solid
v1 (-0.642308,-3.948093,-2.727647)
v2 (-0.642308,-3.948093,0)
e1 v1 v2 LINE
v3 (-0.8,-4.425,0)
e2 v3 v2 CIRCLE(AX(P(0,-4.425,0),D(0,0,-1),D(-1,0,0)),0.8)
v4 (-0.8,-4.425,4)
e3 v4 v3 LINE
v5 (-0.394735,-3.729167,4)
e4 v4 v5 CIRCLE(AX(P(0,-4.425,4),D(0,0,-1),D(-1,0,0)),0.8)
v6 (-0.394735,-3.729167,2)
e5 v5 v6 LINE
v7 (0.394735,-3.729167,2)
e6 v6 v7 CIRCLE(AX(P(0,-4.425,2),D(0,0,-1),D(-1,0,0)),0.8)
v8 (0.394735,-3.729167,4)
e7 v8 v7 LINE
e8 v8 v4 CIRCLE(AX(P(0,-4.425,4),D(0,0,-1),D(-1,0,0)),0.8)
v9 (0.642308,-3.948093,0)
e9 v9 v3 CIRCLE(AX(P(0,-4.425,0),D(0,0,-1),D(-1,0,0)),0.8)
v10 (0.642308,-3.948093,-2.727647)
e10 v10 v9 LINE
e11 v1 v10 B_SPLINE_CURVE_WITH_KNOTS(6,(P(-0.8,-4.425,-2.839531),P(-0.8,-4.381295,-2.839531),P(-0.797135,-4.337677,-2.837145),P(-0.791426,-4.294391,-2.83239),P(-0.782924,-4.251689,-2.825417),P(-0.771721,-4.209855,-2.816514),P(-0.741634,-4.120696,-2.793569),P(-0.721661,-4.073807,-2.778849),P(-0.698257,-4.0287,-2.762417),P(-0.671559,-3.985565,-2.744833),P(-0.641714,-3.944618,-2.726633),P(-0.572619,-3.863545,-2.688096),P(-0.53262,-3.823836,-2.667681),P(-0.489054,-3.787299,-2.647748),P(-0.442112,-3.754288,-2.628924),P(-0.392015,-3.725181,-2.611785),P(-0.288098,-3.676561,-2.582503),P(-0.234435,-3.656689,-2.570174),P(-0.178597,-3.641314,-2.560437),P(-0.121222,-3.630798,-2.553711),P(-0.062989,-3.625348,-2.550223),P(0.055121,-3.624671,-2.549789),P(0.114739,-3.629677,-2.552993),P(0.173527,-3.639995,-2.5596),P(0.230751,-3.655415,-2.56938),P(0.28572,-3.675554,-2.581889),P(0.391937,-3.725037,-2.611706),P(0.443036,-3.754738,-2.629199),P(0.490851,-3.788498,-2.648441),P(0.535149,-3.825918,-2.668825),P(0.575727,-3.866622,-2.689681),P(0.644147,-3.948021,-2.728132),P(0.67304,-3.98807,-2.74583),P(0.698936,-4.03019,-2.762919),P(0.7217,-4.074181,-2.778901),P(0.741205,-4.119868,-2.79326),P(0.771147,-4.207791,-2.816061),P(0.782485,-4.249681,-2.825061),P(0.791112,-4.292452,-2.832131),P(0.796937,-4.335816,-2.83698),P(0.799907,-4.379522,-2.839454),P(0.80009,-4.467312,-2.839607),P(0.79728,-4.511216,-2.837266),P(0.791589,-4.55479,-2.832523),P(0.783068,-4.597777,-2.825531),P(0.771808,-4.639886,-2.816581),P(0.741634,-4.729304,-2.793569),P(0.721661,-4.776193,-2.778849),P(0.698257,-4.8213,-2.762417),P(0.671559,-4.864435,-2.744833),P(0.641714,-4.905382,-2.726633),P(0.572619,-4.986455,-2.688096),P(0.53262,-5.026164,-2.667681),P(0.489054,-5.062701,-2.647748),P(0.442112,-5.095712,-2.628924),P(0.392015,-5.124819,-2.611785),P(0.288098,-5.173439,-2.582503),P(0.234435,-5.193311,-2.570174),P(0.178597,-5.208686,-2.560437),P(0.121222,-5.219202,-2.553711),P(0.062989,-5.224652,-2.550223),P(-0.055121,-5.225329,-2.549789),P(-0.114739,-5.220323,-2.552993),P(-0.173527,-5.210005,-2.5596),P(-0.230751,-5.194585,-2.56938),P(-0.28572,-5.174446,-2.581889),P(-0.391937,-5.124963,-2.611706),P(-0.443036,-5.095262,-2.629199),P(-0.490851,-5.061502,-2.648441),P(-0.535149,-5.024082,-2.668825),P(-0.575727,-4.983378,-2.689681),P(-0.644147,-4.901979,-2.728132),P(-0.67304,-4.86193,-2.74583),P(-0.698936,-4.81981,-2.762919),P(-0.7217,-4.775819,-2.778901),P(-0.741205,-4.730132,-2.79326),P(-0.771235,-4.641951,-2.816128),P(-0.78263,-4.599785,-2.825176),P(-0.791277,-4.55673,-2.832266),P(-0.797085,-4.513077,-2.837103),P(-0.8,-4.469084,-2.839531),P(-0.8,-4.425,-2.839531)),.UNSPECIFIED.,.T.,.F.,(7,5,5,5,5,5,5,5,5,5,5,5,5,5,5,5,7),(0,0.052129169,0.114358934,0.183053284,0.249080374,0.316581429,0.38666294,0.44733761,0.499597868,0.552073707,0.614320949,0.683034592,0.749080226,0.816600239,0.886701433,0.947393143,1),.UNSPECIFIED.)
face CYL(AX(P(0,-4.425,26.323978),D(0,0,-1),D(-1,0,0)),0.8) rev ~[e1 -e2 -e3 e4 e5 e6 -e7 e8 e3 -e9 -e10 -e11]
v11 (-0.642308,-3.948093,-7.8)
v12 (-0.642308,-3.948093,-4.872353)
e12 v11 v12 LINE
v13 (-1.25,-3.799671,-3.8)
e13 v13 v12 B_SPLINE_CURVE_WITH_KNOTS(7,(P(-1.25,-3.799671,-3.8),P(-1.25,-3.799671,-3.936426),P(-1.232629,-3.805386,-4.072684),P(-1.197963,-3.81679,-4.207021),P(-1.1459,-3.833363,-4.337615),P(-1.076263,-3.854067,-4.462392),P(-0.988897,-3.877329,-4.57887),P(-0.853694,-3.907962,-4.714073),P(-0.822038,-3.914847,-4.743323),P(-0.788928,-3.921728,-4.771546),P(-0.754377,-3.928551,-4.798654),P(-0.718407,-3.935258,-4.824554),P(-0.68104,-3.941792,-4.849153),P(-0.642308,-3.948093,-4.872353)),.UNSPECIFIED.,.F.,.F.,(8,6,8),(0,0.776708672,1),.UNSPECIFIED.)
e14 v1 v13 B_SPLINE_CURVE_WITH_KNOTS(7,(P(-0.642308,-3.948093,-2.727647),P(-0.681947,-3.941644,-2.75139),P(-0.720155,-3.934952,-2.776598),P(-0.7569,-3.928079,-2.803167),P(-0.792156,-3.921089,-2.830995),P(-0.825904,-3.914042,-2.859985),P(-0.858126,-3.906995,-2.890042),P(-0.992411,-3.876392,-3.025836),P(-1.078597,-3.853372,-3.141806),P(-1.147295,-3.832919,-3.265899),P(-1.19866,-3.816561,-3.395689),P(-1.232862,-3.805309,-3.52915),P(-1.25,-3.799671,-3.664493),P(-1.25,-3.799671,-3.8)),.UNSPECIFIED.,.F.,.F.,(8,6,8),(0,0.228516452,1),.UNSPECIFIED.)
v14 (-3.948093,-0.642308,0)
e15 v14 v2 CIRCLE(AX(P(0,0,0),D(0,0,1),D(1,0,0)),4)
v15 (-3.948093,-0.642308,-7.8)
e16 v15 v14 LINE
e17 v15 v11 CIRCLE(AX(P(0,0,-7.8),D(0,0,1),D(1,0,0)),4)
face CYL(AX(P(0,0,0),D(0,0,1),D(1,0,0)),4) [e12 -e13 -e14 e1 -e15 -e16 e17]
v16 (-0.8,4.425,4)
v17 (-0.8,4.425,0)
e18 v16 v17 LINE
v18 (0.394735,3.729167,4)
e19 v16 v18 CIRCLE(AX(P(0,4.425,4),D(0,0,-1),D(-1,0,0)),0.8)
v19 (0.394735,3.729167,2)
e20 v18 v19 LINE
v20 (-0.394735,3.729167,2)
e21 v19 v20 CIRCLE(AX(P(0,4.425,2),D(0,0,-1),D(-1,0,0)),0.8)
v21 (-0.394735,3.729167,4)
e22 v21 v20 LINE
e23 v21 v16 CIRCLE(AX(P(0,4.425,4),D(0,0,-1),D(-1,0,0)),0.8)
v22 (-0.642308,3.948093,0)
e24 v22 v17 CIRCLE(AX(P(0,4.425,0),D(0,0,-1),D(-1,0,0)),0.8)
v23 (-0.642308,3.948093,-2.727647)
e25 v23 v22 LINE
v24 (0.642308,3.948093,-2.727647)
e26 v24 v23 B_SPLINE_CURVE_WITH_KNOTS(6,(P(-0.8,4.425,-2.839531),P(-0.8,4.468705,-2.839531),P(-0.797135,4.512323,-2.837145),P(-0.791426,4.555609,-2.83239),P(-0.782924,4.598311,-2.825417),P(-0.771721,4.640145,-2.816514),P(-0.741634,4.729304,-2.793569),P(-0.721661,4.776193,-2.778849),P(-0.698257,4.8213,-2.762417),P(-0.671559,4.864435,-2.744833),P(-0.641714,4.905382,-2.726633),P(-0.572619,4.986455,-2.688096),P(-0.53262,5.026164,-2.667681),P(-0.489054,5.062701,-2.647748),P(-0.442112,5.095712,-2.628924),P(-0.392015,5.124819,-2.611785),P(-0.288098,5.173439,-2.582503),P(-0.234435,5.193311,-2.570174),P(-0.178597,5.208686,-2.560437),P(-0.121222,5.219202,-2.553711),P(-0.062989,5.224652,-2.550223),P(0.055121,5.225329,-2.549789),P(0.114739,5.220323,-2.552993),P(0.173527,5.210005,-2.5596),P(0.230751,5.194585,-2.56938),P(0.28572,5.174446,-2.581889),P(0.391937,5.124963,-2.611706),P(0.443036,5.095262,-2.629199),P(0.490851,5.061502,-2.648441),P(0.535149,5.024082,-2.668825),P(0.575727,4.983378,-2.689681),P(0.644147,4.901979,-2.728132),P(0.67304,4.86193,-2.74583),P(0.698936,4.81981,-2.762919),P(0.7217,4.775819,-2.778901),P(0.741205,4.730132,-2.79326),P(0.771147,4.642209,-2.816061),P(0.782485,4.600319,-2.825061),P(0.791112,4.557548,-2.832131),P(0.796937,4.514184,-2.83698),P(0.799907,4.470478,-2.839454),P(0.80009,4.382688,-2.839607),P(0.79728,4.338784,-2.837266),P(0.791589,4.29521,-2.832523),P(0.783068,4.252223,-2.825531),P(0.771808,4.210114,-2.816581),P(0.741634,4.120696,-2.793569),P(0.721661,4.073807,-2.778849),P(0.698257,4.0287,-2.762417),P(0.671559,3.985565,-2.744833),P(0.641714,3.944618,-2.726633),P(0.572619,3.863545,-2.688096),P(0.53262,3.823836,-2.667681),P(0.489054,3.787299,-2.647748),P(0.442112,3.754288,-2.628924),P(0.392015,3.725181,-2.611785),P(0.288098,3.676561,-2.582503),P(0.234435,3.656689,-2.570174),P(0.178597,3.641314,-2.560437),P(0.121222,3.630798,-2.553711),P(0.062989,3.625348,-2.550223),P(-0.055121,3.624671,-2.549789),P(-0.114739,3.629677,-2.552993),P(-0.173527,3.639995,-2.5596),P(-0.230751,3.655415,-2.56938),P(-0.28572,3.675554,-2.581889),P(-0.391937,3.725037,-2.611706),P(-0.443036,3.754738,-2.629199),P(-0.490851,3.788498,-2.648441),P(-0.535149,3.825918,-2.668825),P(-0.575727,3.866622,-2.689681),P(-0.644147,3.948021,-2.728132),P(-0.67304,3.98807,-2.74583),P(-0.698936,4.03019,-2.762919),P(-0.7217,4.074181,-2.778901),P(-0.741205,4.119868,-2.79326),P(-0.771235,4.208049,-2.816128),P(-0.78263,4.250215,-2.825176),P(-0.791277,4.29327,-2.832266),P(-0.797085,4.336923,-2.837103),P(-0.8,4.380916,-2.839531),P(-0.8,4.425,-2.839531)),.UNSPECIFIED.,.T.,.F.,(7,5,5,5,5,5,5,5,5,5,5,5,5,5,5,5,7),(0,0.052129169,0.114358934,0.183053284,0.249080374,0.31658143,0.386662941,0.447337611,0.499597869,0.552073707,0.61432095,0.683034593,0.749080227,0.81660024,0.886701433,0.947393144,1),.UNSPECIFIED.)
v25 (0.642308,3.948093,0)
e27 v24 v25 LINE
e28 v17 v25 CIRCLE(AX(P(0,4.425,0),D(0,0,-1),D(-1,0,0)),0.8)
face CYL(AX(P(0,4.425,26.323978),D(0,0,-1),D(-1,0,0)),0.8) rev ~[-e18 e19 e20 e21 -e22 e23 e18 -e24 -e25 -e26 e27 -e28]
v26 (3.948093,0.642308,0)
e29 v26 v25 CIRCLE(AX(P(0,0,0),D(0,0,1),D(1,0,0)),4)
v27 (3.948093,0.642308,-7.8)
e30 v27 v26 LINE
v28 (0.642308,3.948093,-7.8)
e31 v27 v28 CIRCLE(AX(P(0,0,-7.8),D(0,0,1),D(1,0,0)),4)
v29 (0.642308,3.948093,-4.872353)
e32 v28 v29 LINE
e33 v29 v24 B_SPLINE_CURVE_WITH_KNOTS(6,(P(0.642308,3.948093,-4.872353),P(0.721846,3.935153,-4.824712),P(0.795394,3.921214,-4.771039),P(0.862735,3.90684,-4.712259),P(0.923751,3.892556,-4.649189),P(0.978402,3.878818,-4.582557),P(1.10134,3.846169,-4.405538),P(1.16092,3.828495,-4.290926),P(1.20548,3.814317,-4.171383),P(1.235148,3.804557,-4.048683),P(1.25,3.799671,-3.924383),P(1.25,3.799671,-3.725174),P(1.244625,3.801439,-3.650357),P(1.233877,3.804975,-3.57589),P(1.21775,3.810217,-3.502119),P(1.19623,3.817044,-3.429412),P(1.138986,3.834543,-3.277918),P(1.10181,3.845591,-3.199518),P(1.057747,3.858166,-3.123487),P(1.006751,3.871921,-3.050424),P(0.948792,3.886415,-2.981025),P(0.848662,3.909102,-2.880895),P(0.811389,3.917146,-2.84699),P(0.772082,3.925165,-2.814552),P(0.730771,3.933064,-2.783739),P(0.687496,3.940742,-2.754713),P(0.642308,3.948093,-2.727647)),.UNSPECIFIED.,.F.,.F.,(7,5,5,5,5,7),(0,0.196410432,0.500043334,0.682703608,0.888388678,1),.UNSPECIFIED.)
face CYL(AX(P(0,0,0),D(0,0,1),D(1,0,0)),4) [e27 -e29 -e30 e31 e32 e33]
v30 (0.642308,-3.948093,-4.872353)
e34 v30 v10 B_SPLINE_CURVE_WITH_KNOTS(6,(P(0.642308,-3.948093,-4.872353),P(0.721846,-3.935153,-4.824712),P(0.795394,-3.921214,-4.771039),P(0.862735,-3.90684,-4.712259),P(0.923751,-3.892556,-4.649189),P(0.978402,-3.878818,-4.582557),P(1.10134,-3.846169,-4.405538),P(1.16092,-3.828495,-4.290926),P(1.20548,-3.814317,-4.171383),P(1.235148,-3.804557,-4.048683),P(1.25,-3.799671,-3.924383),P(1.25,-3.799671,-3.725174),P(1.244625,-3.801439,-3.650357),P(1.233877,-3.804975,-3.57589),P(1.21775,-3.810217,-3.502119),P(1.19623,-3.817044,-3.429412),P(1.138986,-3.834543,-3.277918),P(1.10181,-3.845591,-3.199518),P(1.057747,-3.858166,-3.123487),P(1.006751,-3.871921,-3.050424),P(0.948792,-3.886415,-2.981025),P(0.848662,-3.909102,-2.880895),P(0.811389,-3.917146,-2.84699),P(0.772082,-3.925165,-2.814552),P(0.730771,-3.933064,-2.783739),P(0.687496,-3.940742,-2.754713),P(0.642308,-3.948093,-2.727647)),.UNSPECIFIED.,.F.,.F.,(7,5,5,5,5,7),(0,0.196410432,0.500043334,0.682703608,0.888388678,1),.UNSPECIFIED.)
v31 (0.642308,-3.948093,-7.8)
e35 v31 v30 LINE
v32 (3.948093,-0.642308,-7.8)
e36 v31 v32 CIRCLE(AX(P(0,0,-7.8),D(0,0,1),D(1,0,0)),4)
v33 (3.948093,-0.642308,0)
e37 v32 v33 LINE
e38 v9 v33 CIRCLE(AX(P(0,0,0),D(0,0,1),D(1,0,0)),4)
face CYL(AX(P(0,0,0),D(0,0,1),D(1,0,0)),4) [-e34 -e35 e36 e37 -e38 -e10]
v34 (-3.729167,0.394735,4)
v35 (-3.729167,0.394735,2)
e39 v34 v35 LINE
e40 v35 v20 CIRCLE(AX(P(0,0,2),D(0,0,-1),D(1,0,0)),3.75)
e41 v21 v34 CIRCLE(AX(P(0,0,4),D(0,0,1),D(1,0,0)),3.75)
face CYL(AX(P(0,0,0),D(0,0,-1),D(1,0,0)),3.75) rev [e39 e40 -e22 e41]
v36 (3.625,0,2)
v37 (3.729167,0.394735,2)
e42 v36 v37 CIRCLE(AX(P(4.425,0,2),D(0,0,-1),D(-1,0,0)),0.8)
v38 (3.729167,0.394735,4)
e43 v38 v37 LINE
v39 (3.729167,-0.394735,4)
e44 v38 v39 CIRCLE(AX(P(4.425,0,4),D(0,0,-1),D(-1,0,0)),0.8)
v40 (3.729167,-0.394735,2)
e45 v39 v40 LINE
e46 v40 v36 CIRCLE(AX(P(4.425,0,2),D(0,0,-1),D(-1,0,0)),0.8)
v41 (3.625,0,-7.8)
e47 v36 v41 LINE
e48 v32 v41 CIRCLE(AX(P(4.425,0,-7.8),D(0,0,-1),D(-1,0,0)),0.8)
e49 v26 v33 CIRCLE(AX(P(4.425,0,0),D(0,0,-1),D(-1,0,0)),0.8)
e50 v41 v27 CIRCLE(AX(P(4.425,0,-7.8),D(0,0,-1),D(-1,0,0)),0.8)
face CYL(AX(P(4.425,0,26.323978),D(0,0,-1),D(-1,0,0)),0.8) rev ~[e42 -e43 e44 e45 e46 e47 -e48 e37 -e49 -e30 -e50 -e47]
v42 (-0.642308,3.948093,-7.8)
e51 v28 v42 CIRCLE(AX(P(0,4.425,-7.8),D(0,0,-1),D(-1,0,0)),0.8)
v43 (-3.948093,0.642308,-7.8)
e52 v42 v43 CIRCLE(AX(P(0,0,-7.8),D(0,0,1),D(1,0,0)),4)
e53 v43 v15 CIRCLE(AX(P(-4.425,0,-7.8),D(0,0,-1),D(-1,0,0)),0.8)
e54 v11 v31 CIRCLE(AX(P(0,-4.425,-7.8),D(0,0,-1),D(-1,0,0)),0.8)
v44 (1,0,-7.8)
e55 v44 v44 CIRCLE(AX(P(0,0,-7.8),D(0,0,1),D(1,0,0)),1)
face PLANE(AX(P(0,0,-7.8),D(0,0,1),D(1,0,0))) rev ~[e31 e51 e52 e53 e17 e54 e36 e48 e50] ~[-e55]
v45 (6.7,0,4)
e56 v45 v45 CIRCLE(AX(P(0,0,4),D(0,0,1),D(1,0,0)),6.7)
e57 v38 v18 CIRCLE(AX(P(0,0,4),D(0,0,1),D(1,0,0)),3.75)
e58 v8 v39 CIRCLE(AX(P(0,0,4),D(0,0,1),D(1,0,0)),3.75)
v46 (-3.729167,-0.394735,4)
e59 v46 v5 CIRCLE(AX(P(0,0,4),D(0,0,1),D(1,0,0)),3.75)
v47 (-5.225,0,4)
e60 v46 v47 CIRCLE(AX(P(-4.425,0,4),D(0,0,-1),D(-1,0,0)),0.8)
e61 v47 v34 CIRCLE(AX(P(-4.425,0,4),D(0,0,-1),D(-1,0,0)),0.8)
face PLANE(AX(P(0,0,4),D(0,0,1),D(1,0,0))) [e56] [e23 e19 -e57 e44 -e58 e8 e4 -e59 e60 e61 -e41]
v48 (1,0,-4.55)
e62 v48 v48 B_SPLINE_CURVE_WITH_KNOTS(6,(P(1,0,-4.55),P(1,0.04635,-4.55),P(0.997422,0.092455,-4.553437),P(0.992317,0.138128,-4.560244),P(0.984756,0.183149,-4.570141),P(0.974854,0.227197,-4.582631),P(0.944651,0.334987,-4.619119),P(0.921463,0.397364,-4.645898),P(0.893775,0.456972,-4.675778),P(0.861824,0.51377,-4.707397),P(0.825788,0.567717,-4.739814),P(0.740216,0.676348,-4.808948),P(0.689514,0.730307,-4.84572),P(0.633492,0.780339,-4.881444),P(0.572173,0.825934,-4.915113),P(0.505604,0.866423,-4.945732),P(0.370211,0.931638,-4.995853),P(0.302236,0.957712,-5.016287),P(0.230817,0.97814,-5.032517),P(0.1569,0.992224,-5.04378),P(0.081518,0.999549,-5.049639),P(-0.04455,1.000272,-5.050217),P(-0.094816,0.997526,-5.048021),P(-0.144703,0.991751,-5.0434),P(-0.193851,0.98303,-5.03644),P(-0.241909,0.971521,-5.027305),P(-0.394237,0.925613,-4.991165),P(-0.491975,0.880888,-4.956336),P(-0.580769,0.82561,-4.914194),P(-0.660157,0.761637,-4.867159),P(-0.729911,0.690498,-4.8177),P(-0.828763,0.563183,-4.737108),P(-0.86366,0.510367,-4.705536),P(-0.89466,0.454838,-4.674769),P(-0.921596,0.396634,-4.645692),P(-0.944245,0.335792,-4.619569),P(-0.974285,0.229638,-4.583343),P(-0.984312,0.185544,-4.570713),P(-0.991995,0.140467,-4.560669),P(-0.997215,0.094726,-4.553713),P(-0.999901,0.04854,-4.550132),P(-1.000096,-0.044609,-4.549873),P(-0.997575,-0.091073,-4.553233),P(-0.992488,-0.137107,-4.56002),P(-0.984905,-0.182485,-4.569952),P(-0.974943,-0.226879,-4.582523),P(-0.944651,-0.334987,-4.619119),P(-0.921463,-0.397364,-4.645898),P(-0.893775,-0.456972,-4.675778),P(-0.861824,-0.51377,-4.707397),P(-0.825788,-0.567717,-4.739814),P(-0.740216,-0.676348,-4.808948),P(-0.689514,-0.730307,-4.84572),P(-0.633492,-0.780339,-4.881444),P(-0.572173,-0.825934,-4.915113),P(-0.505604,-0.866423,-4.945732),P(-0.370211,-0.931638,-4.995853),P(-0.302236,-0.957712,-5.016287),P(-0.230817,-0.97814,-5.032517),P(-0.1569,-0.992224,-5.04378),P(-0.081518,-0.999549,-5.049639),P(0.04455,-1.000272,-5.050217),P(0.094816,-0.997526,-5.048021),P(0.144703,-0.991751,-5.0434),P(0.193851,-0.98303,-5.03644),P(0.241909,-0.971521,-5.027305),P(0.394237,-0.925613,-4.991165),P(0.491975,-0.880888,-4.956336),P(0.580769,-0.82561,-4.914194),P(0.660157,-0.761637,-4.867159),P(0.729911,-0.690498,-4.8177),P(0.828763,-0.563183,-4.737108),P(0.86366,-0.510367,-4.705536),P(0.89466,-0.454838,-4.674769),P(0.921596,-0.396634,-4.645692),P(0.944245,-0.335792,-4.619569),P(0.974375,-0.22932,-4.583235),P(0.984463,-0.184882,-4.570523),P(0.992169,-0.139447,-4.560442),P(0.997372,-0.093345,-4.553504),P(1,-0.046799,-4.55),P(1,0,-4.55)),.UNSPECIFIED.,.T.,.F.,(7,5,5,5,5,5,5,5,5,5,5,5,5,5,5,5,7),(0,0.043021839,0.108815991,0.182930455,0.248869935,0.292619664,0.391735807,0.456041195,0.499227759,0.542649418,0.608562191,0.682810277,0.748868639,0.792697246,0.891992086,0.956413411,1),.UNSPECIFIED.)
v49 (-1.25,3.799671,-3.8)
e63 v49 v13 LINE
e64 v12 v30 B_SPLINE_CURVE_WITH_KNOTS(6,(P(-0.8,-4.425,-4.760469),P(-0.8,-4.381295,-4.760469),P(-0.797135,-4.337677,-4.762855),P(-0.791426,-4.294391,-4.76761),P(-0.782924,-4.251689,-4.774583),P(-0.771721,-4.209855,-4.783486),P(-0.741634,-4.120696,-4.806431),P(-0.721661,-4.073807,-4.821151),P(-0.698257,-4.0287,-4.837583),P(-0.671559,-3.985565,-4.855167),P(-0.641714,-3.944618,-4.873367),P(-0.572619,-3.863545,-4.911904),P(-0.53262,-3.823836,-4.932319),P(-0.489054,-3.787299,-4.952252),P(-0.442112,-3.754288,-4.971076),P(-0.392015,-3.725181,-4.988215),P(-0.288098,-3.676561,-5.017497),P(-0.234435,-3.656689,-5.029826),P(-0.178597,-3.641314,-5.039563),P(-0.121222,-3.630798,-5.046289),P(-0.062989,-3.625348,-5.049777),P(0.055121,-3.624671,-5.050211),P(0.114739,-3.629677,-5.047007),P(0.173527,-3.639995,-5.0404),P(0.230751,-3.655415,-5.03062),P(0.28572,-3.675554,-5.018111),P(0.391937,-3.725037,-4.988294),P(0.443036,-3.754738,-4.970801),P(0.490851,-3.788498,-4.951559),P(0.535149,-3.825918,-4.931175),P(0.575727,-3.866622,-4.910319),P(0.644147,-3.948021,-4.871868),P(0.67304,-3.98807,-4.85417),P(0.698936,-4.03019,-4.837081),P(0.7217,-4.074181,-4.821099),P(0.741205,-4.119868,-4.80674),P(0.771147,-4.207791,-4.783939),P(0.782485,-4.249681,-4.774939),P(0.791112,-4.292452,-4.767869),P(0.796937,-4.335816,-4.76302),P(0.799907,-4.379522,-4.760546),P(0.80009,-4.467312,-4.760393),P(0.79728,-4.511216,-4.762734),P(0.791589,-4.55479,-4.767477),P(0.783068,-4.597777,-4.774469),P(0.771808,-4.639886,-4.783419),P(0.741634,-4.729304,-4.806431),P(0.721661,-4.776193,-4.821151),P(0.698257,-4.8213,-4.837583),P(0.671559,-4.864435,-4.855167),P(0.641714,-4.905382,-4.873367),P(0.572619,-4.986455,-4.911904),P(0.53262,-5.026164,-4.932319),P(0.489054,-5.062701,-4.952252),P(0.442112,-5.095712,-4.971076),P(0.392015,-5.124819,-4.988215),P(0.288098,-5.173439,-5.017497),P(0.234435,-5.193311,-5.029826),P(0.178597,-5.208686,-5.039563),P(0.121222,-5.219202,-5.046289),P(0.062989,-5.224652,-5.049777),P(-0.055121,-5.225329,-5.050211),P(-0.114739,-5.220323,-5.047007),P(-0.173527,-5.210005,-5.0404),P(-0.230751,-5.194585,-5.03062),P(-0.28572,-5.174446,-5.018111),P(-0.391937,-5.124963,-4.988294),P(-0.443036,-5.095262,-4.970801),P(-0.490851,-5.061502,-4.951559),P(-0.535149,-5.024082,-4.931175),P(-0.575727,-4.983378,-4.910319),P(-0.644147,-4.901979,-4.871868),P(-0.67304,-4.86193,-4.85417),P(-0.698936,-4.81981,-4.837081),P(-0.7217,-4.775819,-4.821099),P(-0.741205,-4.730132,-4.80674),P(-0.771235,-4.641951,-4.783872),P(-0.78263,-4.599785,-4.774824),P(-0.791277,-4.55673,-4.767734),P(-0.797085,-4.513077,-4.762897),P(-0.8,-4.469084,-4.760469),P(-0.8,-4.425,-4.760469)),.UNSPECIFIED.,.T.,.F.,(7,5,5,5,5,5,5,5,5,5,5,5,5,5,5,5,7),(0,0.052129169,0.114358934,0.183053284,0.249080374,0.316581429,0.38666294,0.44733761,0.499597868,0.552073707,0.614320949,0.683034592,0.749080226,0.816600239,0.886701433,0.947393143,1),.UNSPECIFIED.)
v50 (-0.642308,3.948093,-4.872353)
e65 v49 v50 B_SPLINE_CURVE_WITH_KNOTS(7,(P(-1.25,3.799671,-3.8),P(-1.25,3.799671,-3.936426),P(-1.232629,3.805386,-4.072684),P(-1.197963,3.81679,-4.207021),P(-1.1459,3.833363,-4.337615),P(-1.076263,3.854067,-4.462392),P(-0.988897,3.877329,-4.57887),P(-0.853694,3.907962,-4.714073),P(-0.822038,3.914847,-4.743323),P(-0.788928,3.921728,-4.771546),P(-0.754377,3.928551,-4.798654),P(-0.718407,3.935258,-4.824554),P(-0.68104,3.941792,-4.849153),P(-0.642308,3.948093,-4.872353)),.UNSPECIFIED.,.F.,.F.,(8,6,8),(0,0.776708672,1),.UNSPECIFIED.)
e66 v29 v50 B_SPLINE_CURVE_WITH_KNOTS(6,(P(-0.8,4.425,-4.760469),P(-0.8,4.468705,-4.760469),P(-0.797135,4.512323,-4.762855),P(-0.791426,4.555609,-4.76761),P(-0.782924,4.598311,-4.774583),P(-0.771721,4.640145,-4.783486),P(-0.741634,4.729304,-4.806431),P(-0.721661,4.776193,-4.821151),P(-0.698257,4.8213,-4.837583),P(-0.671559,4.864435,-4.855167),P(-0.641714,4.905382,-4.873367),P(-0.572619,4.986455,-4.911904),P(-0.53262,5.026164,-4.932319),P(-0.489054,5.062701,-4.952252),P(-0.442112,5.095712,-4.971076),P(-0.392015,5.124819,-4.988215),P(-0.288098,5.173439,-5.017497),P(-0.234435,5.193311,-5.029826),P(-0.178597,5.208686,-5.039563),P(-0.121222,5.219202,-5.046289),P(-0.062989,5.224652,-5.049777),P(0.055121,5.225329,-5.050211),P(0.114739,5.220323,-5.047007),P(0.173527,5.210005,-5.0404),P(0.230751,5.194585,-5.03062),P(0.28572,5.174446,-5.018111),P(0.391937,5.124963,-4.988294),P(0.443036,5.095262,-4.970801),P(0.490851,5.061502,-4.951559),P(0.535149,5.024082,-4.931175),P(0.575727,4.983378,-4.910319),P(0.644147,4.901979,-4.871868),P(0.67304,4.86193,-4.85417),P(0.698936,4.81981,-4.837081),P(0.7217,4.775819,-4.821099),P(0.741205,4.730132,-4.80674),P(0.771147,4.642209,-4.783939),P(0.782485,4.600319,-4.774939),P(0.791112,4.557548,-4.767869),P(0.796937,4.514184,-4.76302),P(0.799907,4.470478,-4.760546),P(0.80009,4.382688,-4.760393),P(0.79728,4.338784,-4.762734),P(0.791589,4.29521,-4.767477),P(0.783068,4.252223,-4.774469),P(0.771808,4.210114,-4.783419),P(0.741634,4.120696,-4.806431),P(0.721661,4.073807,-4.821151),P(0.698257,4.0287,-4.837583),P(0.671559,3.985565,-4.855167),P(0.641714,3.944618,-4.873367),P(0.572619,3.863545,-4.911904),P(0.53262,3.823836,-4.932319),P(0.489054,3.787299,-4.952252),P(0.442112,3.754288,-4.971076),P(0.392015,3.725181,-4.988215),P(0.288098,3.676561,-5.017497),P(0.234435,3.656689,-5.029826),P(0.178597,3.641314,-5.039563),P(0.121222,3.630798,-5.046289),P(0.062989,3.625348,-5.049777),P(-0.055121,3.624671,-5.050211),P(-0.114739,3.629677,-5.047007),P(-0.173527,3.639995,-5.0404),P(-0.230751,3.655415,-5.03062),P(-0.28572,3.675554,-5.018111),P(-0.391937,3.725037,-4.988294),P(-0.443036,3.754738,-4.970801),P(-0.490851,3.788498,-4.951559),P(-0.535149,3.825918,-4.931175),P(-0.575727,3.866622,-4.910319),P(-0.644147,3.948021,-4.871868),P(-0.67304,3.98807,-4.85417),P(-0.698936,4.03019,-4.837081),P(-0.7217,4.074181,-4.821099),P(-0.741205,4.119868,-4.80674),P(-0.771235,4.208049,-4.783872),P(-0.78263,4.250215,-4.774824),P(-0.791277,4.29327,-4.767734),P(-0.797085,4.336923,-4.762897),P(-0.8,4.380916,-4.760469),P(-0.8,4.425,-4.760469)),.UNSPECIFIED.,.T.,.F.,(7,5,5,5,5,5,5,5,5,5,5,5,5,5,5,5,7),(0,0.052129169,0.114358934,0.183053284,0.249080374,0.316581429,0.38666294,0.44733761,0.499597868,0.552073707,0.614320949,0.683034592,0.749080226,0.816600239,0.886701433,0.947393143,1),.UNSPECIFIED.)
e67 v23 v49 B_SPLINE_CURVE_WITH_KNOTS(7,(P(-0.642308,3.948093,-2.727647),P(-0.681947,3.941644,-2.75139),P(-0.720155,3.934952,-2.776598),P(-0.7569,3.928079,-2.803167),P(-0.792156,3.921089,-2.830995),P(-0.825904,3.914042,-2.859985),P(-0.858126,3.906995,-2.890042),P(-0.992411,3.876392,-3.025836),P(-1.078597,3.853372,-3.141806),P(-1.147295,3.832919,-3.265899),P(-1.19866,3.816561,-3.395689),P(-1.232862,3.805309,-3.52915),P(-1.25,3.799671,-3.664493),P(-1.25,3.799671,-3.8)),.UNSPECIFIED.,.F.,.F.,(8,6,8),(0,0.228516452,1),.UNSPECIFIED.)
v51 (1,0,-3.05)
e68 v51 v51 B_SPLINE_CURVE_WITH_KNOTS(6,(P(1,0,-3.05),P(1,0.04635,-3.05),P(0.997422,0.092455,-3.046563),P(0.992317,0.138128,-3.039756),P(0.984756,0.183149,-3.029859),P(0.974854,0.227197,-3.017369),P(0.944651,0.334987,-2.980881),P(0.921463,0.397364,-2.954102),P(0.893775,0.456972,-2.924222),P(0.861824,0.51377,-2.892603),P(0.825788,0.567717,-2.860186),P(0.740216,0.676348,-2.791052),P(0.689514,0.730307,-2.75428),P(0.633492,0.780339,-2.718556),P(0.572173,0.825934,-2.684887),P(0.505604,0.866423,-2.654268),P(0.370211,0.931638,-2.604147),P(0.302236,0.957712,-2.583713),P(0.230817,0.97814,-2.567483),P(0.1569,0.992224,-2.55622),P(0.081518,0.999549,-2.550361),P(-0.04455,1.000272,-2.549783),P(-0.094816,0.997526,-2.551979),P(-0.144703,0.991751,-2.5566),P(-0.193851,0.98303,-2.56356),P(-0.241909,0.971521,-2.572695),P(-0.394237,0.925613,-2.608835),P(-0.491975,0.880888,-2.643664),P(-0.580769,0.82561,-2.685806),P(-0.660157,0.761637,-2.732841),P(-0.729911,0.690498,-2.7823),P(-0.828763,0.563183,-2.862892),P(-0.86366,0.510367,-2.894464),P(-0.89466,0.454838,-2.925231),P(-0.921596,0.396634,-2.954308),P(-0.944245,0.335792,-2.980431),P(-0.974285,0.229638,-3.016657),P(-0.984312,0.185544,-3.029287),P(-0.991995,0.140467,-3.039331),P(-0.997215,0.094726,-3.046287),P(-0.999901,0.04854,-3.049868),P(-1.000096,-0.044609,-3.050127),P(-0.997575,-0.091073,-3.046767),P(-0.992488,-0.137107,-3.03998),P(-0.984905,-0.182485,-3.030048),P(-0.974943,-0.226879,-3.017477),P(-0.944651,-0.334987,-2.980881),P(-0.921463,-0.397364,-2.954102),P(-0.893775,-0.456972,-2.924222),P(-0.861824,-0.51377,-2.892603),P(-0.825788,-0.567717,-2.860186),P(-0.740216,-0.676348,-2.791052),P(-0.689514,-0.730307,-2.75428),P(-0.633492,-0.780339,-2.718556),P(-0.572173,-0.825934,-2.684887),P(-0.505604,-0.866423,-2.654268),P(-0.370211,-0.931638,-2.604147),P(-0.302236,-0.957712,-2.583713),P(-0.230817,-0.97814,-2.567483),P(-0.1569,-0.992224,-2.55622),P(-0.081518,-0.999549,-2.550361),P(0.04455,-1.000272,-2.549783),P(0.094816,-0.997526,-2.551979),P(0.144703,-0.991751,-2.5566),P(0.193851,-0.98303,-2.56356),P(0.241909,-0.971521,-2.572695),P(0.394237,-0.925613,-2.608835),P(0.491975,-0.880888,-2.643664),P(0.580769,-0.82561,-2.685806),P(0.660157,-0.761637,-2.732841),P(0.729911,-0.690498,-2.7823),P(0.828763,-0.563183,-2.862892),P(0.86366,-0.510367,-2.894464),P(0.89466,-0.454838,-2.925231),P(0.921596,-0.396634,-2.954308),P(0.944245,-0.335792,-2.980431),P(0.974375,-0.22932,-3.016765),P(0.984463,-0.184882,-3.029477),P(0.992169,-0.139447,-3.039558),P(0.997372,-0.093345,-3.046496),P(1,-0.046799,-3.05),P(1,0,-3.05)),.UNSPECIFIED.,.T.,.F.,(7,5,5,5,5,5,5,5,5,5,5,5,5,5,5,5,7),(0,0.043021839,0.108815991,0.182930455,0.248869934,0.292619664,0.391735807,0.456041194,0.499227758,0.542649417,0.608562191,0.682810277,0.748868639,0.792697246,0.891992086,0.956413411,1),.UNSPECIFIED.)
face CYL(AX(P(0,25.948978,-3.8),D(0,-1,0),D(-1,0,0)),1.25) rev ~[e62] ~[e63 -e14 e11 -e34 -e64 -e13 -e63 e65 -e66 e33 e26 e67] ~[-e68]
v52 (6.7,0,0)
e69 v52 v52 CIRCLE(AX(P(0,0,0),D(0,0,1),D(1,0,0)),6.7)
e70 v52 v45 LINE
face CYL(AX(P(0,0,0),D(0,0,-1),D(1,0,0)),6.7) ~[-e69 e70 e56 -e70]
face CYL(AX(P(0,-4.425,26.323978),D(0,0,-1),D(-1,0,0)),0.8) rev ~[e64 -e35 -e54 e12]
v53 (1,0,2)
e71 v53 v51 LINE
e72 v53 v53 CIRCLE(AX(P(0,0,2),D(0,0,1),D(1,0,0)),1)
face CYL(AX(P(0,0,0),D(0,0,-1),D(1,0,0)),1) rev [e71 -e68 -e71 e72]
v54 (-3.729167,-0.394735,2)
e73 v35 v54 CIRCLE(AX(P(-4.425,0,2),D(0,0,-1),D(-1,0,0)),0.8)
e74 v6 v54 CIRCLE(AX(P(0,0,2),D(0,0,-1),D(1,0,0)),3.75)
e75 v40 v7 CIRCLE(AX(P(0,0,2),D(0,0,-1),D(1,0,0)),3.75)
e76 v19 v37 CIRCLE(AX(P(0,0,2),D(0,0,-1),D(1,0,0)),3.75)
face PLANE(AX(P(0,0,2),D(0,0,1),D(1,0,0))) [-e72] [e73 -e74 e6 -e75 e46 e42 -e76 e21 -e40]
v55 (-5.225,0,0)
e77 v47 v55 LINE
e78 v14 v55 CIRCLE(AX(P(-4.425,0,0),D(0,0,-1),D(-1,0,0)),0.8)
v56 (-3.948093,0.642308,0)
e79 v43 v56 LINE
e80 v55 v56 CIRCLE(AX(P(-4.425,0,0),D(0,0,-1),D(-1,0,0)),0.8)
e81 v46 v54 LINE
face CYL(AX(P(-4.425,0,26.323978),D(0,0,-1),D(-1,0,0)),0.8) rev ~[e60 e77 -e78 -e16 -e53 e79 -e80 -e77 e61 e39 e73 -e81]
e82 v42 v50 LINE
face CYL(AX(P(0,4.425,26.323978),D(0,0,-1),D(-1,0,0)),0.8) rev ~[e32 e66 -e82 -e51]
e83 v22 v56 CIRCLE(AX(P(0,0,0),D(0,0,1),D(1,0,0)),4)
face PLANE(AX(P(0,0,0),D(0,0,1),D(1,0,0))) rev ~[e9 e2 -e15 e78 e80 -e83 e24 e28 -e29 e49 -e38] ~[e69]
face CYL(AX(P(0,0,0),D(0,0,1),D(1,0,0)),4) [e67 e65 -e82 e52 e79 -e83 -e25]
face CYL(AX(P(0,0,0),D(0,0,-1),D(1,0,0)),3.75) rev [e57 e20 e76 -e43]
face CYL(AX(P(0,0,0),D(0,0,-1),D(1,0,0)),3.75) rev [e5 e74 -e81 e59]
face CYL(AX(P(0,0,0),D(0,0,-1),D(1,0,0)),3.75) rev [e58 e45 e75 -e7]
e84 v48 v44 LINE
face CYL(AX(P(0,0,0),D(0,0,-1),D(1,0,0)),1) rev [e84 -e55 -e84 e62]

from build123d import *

# Parameters (mm, degrees)
SKIZZE1_R                       = 6.7
SKIZZE1_R_2                     = 3.75
SKIZZE1_R_3                     = 4
AUFSATZ_LINEAR_AUSTRAGEN1_DEPTH = 4
SKIZZE1_4_R                     = 4
SKIZZE1_4_R_2                   = 3.75
SKIZZE1_4_R_3                   = 1
AUFSATZ_LINEAR_AUSTRAGEN2_DEPTH = 7.8
SKIZZE1_6_R                     = 4
SKIZZE1_6_R_2                   = 1
AUFSATZ_LINEAR_AUSTRAGEN3_DEPTH = 2
M2_GEWINDEBOHRUNG1_D            = 1.6
M3_GEWINDEBOHRUNG1_D            = 2.5


with BuildPart() as part:
    # Skizze1 → Aufsatz-Linear austragen1 (new body)
    with BuildSketch(Plane.XY):
        Circle(SKIZZE1_R)
        Circle(SKIZZE1_R_2, mode=Mode.SUBTRACT)
        Circle(SKIZZE1_R_3)
        Circle(SKIZZE1_R_2, mode=Mode.SUBTRACT)
    extrude(amount=AUFSATZ_LINEAR_AUSTRAGEN1_DEPTH)

    # Skizze1_4 → Aufsatz-Linear austragen2 (add)
    with BuildSketch(Plane.XY):
        Circle(SKIZZE1_4_R)
        Circle(SKIZZE1_4_R_2, mode=Mode.SUBTRACT)
        Circle(SKIZZE1_4_R_2)
        Circle(SKIZZE1_4_R_3, mode=Mode.SUBTRACT)
    extrude(amount=-AUFSATZ_LINEAR_AUSTRAGEN2_DEPTH)

    # Skizze1_6 → Aufsatz-Linear austragen3 (add)
    with BuildSketch(Plane.XY):
        Circle(SKIZZE1_6_R)
        Circle(SKIZZE1_6_R_2, mode=Mode.SUBTRACT)
    extrude(amount=AUFSATZ_LINEAR_AUSTRAGEN3_DEPTH)

    # M2 Gewindebohrung1 (through all)
    with Locations(Plane.XY.offset(4)):
        with Locations((4.425, 0), (0, -4.425), (-4.425, 0), (0, 4.425)):
            Hole(M2_GEWINDEBOHRUNG1_D / 2)

    # M3 Gewindebohrung1 (through all)
    with Locations(Plane(origin=(0, 3.625, -3.8), x_dir=(1, 0, 0), z_dir=(0, 1, 0))):
        with Locations((0, 0)):
            Hole(M3_GEWINDEBOHRUNG1_D / 2)


solid = part.part
